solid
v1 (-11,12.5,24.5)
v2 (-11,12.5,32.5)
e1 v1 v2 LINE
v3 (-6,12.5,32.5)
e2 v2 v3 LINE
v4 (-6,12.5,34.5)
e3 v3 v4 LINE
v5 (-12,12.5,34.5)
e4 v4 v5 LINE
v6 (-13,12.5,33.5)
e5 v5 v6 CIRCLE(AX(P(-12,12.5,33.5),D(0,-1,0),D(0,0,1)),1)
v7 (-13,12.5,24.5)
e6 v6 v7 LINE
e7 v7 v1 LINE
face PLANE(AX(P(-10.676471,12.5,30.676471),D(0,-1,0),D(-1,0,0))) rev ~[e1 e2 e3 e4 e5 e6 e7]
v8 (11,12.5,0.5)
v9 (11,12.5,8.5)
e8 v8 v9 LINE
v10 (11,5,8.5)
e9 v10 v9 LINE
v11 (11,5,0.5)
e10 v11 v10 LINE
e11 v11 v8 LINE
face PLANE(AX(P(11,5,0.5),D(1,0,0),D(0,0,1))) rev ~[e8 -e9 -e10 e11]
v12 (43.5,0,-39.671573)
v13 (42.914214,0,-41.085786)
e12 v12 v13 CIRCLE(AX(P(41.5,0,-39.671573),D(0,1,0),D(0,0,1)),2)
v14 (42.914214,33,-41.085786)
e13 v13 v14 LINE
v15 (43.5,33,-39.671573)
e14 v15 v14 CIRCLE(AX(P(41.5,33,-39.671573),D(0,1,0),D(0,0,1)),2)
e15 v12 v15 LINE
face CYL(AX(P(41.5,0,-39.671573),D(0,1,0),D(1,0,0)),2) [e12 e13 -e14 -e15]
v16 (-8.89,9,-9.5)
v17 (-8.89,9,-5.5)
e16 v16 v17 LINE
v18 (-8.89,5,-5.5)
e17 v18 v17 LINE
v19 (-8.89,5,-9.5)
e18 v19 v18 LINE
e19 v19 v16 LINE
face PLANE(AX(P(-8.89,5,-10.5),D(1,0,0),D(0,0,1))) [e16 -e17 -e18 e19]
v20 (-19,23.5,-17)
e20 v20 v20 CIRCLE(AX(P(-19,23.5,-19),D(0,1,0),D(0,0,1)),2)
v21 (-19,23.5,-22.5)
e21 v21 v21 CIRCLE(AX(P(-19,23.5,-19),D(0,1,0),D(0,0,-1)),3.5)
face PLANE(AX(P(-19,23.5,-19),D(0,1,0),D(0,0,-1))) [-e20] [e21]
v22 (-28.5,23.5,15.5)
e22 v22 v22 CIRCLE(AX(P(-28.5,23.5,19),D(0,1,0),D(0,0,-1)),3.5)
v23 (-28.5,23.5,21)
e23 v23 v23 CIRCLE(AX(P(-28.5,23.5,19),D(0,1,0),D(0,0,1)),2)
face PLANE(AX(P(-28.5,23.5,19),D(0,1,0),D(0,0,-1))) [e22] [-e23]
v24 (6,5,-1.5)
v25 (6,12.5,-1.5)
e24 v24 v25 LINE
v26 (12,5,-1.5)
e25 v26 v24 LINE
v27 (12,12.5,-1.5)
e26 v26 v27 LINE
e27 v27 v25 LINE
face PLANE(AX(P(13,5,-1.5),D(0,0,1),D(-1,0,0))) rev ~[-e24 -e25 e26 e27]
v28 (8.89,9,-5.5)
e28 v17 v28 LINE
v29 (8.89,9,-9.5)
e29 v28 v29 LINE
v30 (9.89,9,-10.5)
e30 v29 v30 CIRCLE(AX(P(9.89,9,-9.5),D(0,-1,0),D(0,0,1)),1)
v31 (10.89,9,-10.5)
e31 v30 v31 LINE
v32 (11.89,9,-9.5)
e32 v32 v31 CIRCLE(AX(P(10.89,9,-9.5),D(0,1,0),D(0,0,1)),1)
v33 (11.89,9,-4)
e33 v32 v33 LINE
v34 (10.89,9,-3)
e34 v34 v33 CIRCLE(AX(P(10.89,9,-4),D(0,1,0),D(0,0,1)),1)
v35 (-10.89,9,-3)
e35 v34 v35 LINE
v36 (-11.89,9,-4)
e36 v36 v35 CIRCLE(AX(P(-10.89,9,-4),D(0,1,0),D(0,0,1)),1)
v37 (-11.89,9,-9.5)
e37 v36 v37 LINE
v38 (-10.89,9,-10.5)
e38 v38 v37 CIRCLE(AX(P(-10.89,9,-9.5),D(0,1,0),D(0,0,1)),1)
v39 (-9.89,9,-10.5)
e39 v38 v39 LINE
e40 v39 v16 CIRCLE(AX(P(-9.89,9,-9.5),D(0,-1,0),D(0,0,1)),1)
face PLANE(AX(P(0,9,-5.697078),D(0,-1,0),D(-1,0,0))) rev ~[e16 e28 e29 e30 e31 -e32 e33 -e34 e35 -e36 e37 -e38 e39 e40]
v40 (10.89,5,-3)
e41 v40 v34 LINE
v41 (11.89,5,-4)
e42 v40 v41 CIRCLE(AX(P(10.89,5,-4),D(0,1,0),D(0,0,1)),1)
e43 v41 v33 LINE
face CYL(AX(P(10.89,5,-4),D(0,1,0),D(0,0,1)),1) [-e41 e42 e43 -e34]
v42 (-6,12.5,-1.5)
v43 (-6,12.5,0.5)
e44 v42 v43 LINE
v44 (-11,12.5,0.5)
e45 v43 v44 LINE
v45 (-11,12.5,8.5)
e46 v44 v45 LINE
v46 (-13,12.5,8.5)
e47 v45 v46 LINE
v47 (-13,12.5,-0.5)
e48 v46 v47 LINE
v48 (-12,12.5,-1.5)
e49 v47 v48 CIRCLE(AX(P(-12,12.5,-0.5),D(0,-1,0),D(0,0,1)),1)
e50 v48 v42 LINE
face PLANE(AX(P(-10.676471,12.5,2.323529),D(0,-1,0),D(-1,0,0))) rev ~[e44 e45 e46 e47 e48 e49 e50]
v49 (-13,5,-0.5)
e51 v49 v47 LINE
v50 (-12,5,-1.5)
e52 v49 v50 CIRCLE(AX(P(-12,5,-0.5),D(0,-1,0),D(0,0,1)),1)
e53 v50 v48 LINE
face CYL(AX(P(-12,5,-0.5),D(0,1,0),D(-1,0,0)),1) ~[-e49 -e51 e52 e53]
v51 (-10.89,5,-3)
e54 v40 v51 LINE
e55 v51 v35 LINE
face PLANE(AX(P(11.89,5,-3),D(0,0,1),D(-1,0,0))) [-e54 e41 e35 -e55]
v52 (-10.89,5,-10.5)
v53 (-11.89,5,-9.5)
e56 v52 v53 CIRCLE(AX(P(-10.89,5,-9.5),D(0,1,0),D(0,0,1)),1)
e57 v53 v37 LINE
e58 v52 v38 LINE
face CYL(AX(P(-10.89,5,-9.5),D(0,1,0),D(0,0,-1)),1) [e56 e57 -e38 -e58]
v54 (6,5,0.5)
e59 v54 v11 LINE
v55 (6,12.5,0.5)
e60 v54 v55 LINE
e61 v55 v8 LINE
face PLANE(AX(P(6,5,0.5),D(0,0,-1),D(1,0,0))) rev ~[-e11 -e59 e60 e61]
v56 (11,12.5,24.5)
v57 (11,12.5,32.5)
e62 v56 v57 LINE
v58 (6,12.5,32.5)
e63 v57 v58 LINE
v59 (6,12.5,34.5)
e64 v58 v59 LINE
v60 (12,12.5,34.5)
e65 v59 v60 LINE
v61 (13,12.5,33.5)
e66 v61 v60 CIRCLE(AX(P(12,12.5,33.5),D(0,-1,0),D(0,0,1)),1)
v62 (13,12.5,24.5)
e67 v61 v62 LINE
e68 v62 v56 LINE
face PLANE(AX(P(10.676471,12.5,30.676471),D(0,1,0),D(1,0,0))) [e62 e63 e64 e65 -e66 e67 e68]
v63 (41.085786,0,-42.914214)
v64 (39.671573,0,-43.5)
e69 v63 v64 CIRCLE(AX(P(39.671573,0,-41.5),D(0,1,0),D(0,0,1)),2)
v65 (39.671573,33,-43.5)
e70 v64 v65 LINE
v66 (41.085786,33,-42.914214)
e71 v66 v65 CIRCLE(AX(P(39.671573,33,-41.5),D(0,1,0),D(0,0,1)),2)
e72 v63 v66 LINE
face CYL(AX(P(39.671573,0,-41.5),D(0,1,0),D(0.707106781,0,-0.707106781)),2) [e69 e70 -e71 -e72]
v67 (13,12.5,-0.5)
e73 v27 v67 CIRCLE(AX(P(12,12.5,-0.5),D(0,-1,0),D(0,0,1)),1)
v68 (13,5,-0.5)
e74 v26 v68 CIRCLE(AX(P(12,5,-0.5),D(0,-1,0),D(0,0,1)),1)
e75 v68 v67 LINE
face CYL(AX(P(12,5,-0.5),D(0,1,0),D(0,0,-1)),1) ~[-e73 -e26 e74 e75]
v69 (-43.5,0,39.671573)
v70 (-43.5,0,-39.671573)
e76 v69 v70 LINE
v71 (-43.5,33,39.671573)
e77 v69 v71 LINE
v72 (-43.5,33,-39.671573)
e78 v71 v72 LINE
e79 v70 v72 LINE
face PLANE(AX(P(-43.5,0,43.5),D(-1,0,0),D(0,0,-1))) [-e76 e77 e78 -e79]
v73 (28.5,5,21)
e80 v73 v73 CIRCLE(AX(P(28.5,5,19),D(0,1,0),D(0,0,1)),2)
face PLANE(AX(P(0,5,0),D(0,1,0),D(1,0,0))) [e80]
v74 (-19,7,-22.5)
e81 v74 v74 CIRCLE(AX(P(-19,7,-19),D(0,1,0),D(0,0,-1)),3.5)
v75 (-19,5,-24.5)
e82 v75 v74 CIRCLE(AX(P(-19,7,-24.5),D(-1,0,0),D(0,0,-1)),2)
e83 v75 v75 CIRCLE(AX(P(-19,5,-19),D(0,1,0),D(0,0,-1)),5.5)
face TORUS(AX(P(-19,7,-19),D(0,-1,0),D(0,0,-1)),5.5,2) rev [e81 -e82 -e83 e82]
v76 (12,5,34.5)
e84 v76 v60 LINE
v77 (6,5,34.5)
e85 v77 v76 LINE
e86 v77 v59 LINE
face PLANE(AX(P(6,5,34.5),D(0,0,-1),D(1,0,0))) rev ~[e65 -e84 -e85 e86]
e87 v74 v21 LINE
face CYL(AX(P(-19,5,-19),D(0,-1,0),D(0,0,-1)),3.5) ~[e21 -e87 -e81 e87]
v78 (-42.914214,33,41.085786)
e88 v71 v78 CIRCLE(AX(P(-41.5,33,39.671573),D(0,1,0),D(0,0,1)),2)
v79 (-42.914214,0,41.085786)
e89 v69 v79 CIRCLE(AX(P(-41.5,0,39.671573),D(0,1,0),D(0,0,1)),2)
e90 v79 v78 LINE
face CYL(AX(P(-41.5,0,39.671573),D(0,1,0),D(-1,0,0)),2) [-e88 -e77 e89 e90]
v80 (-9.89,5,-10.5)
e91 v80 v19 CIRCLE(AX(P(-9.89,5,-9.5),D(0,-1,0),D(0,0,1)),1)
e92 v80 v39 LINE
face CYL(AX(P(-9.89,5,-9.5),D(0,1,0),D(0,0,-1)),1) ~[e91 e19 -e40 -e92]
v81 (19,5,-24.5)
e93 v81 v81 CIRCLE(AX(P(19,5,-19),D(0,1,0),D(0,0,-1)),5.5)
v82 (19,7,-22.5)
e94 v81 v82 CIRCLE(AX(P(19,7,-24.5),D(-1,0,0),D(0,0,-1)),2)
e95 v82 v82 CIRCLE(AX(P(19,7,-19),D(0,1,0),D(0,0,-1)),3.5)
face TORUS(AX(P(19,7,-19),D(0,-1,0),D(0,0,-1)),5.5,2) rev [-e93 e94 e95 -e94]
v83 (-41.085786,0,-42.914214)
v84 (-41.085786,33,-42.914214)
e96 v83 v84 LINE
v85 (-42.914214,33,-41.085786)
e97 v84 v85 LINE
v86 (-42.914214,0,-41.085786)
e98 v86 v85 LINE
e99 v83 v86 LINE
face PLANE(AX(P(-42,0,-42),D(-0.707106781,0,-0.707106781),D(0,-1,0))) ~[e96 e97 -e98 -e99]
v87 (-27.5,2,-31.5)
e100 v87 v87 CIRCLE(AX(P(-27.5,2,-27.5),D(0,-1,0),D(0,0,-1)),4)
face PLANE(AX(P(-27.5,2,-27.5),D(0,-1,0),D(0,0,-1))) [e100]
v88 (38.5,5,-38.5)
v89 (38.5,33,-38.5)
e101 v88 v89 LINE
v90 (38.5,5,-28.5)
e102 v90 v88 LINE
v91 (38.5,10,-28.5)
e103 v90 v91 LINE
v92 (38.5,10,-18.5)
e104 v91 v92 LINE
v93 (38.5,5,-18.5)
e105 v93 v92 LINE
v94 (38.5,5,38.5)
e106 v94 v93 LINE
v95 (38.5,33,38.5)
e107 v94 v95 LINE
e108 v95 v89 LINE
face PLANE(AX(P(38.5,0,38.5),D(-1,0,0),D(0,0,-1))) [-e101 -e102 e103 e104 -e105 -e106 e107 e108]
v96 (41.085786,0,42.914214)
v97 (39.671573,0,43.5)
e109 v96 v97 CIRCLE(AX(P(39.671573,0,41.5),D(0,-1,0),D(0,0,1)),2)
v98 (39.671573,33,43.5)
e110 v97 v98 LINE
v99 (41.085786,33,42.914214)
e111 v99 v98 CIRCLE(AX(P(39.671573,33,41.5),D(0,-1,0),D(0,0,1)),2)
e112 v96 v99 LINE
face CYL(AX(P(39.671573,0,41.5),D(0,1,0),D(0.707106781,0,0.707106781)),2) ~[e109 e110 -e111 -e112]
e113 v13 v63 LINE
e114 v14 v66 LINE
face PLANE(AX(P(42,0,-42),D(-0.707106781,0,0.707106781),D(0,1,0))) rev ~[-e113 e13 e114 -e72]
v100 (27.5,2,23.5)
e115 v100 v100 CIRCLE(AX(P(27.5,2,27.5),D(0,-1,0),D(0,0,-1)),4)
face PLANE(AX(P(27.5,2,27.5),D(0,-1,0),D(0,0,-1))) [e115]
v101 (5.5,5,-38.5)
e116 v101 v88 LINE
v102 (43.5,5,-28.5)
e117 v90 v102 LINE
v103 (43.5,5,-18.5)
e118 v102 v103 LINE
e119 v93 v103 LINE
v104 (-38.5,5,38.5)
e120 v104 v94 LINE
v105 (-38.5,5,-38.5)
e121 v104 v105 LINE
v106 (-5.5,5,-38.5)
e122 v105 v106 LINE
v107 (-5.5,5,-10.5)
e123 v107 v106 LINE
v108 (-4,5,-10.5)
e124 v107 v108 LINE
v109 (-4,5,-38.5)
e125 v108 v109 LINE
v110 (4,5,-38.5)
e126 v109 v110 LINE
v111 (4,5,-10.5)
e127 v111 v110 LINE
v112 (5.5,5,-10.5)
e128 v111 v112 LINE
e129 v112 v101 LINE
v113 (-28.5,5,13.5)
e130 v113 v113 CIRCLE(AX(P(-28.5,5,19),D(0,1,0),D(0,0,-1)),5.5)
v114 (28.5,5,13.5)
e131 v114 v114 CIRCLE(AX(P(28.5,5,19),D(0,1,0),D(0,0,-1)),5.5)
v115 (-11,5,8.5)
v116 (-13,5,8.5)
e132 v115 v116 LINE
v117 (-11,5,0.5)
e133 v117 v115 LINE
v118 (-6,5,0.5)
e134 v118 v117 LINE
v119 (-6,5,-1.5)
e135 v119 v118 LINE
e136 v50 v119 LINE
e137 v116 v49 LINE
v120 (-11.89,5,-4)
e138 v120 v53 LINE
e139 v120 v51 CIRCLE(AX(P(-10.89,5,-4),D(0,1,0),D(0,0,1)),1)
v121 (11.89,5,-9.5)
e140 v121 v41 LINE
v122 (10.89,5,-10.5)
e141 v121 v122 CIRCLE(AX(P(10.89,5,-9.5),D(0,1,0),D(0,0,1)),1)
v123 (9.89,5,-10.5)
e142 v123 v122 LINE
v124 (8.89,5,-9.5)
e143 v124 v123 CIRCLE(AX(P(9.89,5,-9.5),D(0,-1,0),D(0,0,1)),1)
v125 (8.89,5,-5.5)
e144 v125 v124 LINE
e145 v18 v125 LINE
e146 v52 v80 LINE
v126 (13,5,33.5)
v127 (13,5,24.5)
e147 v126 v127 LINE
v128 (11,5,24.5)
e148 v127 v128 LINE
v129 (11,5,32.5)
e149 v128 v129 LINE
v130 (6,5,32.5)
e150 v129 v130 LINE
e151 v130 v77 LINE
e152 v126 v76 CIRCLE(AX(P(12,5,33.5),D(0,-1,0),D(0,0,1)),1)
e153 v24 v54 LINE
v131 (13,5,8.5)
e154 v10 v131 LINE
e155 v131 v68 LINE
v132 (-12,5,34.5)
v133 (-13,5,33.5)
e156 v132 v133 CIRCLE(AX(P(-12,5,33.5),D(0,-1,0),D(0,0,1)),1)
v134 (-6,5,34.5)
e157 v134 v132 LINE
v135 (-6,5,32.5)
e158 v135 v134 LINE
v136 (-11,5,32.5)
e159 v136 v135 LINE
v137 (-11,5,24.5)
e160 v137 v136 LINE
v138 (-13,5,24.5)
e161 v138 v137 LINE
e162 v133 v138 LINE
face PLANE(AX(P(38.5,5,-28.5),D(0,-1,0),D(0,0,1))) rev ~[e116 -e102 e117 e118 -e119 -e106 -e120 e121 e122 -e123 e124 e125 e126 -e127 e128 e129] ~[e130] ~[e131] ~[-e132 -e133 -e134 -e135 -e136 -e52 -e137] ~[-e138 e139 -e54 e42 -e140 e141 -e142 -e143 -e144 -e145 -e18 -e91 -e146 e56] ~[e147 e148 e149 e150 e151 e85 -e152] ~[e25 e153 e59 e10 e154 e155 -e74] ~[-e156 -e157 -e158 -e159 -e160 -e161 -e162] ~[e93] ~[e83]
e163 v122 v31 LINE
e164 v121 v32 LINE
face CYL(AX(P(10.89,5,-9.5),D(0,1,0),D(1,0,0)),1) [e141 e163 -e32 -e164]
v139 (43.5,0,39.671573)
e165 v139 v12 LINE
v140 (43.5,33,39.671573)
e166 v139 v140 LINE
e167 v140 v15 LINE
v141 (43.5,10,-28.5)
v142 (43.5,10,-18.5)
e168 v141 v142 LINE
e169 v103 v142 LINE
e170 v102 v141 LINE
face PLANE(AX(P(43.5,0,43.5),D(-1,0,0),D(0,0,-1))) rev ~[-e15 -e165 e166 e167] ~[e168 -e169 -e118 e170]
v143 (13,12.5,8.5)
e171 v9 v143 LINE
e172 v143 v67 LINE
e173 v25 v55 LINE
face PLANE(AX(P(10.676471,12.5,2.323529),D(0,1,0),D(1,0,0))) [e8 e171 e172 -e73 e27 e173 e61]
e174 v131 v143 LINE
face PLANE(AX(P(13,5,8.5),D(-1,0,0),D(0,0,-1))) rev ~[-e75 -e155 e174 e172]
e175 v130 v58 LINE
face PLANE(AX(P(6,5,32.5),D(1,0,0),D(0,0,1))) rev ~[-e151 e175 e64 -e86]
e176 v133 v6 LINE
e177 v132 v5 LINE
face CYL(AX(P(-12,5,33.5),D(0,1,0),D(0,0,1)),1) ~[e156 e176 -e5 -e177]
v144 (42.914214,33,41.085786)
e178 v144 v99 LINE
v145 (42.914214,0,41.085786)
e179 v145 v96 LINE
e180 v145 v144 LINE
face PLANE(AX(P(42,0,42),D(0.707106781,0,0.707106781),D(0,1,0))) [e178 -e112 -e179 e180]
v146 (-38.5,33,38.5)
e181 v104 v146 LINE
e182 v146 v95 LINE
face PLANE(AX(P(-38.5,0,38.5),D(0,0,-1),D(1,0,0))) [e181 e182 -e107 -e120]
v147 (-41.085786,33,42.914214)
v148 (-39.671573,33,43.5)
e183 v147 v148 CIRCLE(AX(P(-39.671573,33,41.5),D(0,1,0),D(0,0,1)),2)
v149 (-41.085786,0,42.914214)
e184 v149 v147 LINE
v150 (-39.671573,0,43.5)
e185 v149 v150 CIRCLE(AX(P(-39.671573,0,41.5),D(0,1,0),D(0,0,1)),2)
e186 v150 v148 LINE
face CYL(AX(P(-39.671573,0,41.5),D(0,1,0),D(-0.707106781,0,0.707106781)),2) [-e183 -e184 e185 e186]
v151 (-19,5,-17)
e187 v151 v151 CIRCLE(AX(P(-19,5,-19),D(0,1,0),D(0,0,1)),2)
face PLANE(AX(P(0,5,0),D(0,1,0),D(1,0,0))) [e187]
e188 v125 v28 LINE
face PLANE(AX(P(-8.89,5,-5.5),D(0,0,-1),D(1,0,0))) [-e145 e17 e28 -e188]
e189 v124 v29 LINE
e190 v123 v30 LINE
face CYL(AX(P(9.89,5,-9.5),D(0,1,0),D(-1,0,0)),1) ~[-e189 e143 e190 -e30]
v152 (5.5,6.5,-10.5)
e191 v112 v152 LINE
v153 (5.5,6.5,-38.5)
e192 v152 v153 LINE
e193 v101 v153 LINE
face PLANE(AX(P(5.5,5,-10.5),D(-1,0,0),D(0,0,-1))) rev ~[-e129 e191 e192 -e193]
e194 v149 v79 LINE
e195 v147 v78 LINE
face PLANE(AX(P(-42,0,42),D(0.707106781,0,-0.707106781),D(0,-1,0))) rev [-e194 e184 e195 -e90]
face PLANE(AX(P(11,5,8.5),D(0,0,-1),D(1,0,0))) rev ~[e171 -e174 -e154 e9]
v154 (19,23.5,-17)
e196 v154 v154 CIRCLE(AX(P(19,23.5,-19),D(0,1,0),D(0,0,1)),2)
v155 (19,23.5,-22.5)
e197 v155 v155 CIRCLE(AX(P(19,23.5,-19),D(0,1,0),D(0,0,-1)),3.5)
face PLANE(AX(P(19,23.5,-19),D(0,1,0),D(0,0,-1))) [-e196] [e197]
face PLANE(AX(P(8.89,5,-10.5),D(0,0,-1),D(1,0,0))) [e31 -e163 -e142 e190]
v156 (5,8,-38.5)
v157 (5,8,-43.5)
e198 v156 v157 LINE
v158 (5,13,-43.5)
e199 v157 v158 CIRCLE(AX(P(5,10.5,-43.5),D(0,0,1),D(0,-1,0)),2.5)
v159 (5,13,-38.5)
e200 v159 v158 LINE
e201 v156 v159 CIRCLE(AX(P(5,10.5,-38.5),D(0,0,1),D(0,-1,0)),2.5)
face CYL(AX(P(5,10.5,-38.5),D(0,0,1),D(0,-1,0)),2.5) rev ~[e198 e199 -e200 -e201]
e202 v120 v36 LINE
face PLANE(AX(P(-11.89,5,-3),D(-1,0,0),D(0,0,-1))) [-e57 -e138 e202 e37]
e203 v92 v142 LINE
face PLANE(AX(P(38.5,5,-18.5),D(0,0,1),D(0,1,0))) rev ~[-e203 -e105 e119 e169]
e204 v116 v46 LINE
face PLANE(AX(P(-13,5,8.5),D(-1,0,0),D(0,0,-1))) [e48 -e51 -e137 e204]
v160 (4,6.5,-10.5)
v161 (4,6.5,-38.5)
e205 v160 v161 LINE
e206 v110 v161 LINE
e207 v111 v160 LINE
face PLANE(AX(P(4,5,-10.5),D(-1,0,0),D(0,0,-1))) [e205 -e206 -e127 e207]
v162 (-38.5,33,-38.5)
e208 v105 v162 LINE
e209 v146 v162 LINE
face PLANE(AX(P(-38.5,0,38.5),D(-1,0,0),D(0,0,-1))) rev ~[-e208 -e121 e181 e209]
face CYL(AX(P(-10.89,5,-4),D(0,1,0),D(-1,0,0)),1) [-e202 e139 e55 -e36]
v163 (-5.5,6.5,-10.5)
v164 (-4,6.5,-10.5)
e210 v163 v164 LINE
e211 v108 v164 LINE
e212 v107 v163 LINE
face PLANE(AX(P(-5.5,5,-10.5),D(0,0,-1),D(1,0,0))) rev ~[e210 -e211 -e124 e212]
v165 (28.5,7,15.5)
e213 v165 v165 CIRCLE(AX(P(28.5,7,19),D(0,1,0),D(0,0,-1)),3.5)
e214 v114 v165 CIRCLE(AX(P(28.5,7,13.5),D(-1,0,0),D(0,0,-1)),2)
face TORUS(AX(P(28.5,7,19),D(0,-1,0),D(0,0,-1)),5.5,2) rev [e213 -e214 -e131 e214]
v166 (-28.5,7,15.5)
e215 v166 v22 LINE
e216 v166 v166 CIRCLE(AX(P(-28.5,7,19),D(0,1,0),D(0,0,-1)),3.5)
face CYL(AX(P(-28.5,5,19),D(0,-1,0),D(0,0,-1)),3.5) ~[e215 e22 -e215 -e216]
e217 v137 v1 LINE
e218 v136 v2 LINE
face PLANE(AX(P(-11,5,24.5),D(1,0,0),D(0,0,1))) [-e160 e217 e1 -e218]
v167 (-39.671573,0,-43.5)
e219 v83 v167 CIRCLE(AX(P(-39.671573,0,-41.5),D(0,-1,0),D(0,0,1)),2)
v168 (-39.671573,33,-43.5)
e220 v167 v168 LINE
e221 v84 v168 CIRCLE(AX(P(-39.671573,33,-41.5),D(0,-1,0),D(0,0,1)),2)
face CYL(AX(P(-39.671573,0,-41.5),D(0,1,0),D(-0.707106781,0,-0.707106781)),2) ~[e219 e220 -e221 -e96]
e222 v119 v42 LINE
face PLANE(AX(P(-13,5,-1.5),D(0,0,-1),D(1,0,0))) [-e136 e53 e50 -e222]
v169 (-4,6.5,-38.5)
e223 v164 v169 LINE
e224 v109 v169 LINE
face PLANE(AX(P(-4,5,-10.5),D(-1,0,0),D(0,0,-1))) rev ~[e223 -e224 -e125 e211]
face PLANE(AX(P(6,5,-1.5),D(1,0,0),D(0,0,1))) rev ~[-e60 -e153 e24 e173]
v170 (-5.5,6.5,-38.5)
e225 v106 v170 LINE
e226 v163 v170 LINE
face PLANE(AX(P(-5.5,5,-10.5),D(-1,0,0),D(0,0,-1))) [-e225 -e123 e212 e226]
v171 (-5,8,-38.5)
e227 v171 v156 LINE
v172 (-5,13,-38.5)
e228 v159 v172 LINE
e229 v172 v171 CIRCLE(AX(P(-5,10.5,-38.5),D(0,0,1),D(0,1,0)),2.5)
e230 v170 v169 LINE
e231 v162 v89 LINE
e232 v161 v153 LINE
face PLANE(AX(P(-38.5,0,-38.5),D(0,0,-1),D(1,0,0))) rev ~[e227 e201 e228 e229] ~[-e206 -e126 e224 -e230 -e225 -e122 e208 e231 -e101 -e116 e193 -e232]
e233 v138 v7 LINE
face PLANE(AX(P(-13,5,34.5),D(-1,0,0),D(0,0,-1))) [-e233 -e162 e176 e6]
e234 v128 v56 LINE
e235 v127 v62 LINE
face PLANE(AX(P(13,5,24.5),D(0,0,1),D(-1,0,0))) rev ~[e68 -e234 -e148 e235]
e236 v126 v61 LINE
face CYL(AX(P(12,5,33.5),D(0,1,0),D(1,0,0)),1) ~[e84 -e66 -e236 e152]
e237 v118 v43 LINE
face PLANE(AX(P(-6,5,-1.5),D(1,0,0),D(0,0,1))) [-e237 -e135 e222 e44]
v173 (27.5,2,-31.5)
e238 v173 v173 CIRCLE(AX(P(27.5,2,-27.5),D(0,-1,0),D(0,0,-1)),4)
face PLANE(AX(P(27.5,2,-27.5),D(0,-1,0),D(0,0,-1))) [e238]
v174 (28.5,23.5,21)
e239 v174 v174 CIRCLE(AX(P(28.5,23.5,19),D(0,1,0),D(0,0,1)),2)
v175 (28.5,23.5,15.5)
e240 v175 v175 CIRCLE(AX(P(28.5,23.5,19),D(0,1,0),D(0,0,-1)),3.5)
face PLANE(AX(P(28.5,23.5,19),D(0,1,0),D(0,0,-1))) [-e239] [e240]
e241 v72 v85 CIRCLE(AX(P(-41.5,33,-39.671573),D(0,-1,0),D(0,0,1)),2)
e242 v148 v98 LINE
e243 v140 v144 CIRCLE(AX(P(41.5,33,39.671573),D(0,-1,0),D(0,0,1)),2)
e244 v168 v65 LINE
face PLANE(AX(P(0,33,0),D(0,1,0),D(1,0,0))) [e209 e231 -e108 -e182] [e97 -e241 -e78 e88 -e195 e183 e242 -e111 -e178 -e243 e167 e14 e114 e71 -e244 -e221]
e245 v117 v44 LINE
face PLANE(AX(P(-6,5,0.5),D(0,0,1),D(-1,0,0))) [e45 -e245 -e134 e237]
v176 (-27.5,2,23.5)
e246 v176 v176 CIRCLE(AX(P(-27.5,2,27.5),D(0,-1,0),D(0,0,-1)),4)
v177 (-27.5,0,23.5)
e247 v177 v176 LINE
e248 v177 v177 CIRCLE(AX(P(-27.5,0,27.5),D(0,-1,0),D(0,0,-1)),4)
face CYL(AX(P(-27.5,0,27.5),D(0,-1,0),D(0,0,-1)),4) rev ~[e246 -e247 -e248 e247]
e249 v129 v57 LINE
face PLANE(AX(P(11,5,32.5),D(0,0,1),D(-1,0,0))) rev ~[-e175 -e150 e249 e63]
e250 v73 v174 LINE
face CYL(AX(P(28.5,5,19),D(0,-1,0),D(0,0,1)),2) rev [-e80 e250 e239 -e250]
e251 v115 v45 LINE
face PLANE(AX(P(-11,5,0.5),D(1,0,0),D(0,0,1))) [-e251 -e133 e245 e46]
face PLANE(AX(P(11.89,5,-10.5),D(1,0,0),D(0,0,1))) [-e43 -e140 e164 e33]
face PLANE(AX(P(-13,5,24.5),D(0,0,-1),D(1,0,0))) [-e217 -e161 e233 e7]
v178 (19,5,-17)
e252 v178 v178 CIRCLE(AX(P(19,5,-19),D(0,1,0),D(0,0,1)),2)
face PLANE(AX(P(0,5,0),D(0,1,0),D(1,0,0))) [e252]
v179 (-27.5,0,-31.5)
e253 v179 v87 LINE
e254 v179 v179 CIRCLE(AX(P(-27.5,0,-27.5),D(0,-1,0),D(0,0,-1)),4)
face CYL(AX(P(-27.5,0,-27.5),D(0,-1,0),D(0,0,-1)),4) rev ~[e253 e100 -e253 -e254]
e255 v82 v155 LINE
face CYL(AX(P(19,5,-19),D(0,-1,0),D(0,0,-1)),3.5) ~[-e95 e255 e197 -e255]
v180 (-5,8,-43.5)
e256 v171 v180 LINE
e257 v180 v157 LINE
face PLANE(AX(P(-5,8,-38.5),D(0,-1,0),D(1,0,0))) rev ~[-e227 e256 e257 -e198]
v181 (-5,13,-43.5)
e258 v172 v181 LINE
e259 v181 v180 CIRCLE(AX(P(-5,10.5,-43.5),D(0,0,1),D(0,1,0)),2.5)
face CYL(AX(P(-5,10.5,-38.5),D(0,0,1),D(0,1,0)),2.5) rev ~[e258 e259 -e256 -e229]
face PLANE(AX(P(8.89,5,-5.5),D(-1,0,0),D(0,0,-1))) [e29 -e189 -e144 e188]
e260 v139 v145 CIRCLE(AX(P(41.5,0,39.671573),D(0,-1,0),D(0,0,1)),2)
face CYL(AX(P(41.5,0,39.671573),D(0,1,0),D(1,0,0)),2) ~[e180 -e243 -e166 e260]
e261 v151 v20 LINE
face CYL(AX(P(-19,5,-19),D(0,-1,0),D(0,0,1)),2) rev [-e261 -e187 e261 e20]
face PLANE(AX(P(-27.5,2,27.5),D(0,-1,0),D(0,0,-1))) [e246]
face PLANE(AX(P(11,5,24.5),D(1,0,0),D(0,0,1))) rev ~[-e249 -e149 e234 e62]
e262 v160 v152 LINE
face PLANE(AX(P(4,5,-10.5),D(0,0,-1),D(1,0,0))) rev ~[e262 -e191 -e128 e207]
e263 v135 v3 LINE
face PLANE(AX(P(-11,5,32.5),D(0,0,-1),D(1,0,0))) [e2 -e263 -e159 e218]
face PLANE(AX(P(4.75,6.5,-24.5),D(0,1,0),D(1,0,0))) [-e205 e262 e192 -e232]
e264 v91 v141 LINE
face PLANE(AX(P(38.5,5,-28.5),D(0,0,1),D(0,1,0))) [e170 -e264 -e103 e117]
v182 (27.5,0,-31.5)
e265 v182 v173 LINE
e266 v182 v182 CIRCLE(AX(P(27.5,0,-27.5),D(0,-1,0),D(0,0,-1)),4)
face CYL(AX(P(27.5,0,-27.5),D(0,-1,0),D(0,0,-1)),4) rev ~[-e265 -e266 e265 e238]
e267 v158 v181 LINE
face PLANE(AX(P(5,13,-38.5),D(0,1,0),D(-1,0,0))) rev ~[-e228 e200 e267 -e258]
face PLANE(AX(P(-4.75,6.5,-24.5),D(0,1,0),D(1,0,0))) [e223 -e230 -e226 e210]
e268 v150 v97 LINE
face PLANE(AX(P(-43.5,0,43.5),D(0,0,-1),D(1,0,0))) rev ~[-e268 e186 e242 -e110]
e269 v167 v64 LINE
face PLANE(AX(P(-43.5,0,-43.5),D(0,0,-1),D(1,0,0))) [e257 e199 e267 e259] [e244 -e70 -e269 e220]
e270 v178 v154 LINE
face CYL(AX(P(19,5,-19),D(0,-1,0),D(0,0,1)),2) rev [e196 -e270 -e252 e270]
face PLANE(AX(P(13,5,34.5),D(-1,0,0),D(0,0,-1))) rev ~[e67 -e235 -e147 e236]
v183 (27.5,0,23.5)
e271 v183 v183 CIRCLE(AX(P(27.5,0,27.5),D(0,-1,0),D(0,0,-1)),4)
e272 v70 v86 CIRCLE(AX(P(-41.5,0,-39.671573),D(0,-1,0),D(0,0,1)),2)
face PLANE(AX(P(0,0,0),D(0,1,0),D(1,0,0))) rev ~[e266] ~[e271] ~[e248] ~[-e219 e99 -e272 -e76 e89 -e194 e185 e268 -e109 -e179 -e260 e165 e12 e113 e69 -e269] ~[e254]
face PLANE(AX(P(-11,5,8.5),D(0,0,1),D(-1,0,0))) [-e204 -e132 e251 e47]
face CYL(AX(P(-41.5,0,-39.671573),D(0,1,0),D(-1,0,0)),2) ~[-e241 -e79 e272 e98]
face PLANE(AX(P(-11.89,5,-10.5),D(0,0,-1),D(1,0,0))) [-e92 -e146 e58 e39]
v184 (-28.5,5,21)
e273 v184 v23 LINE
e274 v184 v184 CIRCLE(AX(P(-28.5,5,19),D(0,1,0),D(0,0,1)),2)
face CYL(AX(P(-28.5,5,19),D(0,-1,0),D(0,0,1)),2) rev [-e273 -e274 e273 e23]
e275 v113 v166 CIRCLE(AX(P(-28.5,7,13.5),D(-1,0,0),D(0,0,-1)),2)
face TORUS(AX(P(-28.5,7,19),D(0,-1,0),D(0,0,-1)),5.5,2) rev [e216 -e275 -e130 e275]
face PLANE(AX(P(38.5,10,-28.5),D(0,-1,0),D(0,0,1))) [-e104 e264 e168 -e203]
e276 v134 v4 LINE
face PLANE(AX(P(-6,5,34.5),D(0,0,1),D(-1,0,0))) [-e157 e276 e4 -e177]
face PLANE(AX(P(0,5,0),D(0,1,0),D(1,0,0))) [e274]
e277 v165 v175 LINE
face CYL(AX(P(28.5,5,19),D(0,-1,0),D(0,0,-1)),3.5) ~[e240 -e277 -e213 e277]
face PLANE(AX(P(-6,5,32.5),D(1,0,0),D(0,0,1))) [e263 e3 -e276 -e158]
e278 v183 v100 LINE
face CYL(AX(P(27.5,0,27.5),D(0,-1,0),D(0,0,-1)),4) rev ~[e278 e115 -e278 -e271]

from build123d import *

# Parameters (mm, degrees)
SKETCH1_W           = 77
SKETCH1_H           = 77
BOSS_EXTRUDE1_DEPTH = 5
SKETCH2_W           = 87
SKETCH2_H           = 87
SKETCH2_W_2         = 77
SKETCH2_H_2         = 77
BOSS_EXTRUDE2_DEPTH = 33
SKETCH3_R           = 3.5
SKETCH3_R_2         = 2
BOSS_EXTRUDE4_DEPTH = 18.5
SKETCH11_W          = 1.5
SKETCH11_H          = 28
BOSS_EXTRUDE7_DEPTH = 1.5
BOSS_EXTRUDE8_DEPTH = 4
SKETCH7_R           = 4
CUT_EXTRUDE1_DEPTH  = 2
CUT_EXTRUDE2_DEPTH  = 5
SKETCH16_W          = 10
SKETCH16_H          = 5
CUT_EXTRUDE3_DEPTH  = 5
BOSS_EXTRUDE6_DEPTH = 7.5
FILLET1_R           = 2
FILLET2_R           = 1
CHAMFER1_SIZE       = 3
FILLET3_R           = 2


with BuildPart() as part:
    # Sketch1 → Boss-Extrude1 (new body)
    with BuildSketch(Plane(origin=(0, 0, 0), x_dir=(1, 0, 0), z_dir=(0, 1, 0))):
        Rectangle(SKETCH1_W, SKETCH1_H)
    extrude(amount=BOSS_EXTRUDE1_DEPTH)

    # Sketch2 → Boss-Extrude2 (add)
    with BuildSketch(Plane(origin=(0, 0, 0), x_dir=(1, 0, 0), z_dir=(0, 1, 0))):
        Rectangle(SKETCH2_W, SKETCH2_H)
        Rectangle(SKETCH2_W_2, SKETCH2_H_2, mode=Mode.SUBTRACT)
    extrude(amount=BOSS_EXTRUDE2_DEPTH)

    # Sketch3 → Boss-Extrude4 (add)
    # profile 1 of 4: a face of its own
    with BuildSketch(Plane(origin=(0, 5, 0), x_dir=(1, 0, 0), z_dir=(0, 1, 0))):
        with Locations(Location((-28.5, -19, 0), (0, 0, 90))):
            Circle(SKETCH3_R)
        with Locations(Location((-28.5, -19, 0), (0, 0, 270))):
            Circle(SKETCH3_R_2, mode=Mode.SUBTRACT)
    # profile 2 of 4: a face of its own
    with BuildSketch(Plane(origin=(0, 5, 0), x_dir=(1, 0, 0), z_dir=(0, 1, 0))):
        with Locations(Location((-19, 19, 0), (0, 0, 90))):
            Circle(SKETCH3_R)
        with Locations(Location((-19, 19, 0), (0, 0, 270))):
            Circle(SKETCH3_R_2, mode=Mode.SUBTRACT)
    # profile 3 of 4: a face of its own
    with BuildSketch(Plane(origin=(0, 5, 0), x_dir=(1, 0, 0), z_dir=(0, 1, 0))):
        with Locations(Location((28.5, -19, 0), (0, 0, 90))):
            Circle(SKETCH3_R)
        with Locations(Location((28.5, -19, 0), (0, 0, 270))):
            Circle(SKETCH3_R_2, mode=Mode.SUBTRACT)
    # profile 4 of 4: a face of its own
    with BuildSketch(Plane(origin=(0, 5, 0), x_dir=(1, 0, 0), z_dir=(0, 1, 0))):
        with Locations(Location((19, 19, 0), (0, 0, 90))):
            Circle(SKETCH3_R)
        with Locations(Location((19, 19, 0), (0, 0, 270))):
            Circle(SKETCH3_R_2, mode=Mode.SUBTRACT)
    extrude(amount=BOSS_EXTRUDE4_DEPTH)

    # Sketch11 → Boss-Extrude7 (add)
    with BuildSketch(Plane(origin=(0, 5, 0), x_dir=(1, 0, 0), z_dir=(0, 1, 0))):
        with Locations((4.75, 24.5)):
            Rectangle(SKETCH11_W, SKETCH11_H)
        with Locations((-4.75, 24.5)):
            Rectangle(SKETCH11_W, SKETCH11_H)
    extrude(amount=BOSS_EXTRUDE7_DEPTH)

    # Sketch17 → Boss-Extrude8 (add)
    with BuildSketch(Plane(origin=(0, 5, 0), x_dir=(1, 0, 0), z_dir=(0, 1, 0))):
        Polygon((-8.89, 10.5), (-8.89, 5.5), (8.89, 5.5), (8.89, 10.5), (11.89, 10.5), (11.89, 3), (-11.89, 3), (-11.89, 10.5), align=None)
    extrude(amount=BOSS_EXTRUDE8_DEPTH)

    # Sketch7 → Cut-Extrude1 (cut)
    with BuildSketch(Plane.XZ):
        with Locations(Location((-27.5, -27.5, 0), (0, 0, 270))):
            Circle(SKETCH7_R)
        with Locations(Location((-27.5, 27.5, 0), (0, 0, 270))):
            Circle(SKETCH7_R)
        with Locations(Location((27.5, 27.5, 0), (0, 0, 270))):
            Circle(SKETCH7_R)
        with Locations(Location((27.5, -27.5, 0), (0, 0, 270))):
            Circle(SKETCH7_R)
    extrude(amount=-CUT_EXTRUDE1_DEPTH, mode=Mode.SUBTRACT)

    # Sketch10 → Cut-Extrude2 (cut)
    with BuildSketch(Plane(origin=(0, 0, -38.5), x_dir=(-1, 0, 0), z_dir=(0, 0, -1))):
        with BuildLine():
            Line((-5, 13), (5, 13))
            ThreePointArc((5, 13), (7.5, 10.5), (5, 8))
            Line((5, 8), (-5, 8))
            ThreePointArc((-5, 8), (-7.5, 10.5), (-5, 13))
        make_face()
    extrude(amount=CUT_EXTRUDE2_DEPTH, mode=Mode.SUBTRACT)

    # Sketch16 → Cut-Extrude3 (cut)
    with BuildSketch(Plane.ZY.offset(-38.5)):
        with Locations((-23.5, 7.5)):
            Rectangle(SKETCH16_W, SKETCH16_H)
    extrude(amount=-CUT_EXTRUDE3_DEPTH, mode=Mode.SUBTRACT)

    # Sketch15 → Boss-Extrude6 (add)
    with BuildSketch(Plane(origin=(0, 5, 0), x_dir=(1, 0, 0), z_dir=(0, 1, 0))):
        Polygon((-11, -0.5), (-11, -8.5), (-13, -8.5), (-13, 1.5), (-6, 1.5), (-6, -0.5), align=None)
        Polygon((-13, -24.5), (-11, -24.5), (-11, -32.5), (-6, -32.5), (-6, -34.5), (-13, -34.5), align=None)
        Polygon((13, -24.5), (11, -24.5), (11, -32.5), (6, -32.5), (6, -34.5), (13, -34.5), align=None)
        Polygon((6, 1.5), (6, -0.5), (11, -0.5), (11, -8.5), (13, -8.5), (13, 1.5), align=None)
    extrude(amount=BOSS_EXTRUDE6_DEPTH)

    # Fillet1
    fillet1_edges = [part.edges().sort_by_distance(p)[0] for p in [
        (28.5, 5, 22.5),
        (19, 5, -15.5),
        (-28.5, 5, 22.5),
        (-19, 5, -15.5),
    ]]
    fillet(fillet1_edges, radius=FILLET1_R)

    # Fillet2
    fillet2_edges = [part.edges().sort_by_distance(p)[0] for p in [
        (-8.89, 7, -10.5),
        (-11.89, 7, -10.5),
        (-11.89, 7, -3),
        (11.89, 7, -3),
        (11.89, 7, -10.5),
        (8.89, 7, -10.5),
        (-13, 8.75, -1.5),
        (13, 8.75, -1.5),
        (-13, 8.75, 34.5),
        (13, 8.75, 34.5),
    ]]
    fillet(fillet2_edges, radius=FILLET2_R)

    # Chamfer1
    chamfer1_edges = [part.edges().sort_by_distance(p)[0] for p in [
        (-43.5, 16.5, 43.5),
        (43.5, 16.5, 43.5),
        (43.5, 16.5, -43.5),
        (-43.5, 16.5, -43.5),
    ]]
    chamfer(chamfer1_edges, length=CHAMFER1_SIZE)

    # Fillet3
    fillet3_edges = [part.edges().sort_by_distance(p)[0] for p in [
        (-40.5, 16.5, -43.5),
        (40.5, 16.5, -43.5),
        (43.5, 16.5, 40.5),
        (43.5, 16.5, -40.5),
        (40.5, 16.5, 43.5),
        (-40.5, 16.5, 43.5),
        (-43.5, 16.5, -40.5),
        (-43.5, 16.5, 40.5),
    ]]
    fillet(fillet3_edges, radius=FILLET3_R)


solid = part.part
